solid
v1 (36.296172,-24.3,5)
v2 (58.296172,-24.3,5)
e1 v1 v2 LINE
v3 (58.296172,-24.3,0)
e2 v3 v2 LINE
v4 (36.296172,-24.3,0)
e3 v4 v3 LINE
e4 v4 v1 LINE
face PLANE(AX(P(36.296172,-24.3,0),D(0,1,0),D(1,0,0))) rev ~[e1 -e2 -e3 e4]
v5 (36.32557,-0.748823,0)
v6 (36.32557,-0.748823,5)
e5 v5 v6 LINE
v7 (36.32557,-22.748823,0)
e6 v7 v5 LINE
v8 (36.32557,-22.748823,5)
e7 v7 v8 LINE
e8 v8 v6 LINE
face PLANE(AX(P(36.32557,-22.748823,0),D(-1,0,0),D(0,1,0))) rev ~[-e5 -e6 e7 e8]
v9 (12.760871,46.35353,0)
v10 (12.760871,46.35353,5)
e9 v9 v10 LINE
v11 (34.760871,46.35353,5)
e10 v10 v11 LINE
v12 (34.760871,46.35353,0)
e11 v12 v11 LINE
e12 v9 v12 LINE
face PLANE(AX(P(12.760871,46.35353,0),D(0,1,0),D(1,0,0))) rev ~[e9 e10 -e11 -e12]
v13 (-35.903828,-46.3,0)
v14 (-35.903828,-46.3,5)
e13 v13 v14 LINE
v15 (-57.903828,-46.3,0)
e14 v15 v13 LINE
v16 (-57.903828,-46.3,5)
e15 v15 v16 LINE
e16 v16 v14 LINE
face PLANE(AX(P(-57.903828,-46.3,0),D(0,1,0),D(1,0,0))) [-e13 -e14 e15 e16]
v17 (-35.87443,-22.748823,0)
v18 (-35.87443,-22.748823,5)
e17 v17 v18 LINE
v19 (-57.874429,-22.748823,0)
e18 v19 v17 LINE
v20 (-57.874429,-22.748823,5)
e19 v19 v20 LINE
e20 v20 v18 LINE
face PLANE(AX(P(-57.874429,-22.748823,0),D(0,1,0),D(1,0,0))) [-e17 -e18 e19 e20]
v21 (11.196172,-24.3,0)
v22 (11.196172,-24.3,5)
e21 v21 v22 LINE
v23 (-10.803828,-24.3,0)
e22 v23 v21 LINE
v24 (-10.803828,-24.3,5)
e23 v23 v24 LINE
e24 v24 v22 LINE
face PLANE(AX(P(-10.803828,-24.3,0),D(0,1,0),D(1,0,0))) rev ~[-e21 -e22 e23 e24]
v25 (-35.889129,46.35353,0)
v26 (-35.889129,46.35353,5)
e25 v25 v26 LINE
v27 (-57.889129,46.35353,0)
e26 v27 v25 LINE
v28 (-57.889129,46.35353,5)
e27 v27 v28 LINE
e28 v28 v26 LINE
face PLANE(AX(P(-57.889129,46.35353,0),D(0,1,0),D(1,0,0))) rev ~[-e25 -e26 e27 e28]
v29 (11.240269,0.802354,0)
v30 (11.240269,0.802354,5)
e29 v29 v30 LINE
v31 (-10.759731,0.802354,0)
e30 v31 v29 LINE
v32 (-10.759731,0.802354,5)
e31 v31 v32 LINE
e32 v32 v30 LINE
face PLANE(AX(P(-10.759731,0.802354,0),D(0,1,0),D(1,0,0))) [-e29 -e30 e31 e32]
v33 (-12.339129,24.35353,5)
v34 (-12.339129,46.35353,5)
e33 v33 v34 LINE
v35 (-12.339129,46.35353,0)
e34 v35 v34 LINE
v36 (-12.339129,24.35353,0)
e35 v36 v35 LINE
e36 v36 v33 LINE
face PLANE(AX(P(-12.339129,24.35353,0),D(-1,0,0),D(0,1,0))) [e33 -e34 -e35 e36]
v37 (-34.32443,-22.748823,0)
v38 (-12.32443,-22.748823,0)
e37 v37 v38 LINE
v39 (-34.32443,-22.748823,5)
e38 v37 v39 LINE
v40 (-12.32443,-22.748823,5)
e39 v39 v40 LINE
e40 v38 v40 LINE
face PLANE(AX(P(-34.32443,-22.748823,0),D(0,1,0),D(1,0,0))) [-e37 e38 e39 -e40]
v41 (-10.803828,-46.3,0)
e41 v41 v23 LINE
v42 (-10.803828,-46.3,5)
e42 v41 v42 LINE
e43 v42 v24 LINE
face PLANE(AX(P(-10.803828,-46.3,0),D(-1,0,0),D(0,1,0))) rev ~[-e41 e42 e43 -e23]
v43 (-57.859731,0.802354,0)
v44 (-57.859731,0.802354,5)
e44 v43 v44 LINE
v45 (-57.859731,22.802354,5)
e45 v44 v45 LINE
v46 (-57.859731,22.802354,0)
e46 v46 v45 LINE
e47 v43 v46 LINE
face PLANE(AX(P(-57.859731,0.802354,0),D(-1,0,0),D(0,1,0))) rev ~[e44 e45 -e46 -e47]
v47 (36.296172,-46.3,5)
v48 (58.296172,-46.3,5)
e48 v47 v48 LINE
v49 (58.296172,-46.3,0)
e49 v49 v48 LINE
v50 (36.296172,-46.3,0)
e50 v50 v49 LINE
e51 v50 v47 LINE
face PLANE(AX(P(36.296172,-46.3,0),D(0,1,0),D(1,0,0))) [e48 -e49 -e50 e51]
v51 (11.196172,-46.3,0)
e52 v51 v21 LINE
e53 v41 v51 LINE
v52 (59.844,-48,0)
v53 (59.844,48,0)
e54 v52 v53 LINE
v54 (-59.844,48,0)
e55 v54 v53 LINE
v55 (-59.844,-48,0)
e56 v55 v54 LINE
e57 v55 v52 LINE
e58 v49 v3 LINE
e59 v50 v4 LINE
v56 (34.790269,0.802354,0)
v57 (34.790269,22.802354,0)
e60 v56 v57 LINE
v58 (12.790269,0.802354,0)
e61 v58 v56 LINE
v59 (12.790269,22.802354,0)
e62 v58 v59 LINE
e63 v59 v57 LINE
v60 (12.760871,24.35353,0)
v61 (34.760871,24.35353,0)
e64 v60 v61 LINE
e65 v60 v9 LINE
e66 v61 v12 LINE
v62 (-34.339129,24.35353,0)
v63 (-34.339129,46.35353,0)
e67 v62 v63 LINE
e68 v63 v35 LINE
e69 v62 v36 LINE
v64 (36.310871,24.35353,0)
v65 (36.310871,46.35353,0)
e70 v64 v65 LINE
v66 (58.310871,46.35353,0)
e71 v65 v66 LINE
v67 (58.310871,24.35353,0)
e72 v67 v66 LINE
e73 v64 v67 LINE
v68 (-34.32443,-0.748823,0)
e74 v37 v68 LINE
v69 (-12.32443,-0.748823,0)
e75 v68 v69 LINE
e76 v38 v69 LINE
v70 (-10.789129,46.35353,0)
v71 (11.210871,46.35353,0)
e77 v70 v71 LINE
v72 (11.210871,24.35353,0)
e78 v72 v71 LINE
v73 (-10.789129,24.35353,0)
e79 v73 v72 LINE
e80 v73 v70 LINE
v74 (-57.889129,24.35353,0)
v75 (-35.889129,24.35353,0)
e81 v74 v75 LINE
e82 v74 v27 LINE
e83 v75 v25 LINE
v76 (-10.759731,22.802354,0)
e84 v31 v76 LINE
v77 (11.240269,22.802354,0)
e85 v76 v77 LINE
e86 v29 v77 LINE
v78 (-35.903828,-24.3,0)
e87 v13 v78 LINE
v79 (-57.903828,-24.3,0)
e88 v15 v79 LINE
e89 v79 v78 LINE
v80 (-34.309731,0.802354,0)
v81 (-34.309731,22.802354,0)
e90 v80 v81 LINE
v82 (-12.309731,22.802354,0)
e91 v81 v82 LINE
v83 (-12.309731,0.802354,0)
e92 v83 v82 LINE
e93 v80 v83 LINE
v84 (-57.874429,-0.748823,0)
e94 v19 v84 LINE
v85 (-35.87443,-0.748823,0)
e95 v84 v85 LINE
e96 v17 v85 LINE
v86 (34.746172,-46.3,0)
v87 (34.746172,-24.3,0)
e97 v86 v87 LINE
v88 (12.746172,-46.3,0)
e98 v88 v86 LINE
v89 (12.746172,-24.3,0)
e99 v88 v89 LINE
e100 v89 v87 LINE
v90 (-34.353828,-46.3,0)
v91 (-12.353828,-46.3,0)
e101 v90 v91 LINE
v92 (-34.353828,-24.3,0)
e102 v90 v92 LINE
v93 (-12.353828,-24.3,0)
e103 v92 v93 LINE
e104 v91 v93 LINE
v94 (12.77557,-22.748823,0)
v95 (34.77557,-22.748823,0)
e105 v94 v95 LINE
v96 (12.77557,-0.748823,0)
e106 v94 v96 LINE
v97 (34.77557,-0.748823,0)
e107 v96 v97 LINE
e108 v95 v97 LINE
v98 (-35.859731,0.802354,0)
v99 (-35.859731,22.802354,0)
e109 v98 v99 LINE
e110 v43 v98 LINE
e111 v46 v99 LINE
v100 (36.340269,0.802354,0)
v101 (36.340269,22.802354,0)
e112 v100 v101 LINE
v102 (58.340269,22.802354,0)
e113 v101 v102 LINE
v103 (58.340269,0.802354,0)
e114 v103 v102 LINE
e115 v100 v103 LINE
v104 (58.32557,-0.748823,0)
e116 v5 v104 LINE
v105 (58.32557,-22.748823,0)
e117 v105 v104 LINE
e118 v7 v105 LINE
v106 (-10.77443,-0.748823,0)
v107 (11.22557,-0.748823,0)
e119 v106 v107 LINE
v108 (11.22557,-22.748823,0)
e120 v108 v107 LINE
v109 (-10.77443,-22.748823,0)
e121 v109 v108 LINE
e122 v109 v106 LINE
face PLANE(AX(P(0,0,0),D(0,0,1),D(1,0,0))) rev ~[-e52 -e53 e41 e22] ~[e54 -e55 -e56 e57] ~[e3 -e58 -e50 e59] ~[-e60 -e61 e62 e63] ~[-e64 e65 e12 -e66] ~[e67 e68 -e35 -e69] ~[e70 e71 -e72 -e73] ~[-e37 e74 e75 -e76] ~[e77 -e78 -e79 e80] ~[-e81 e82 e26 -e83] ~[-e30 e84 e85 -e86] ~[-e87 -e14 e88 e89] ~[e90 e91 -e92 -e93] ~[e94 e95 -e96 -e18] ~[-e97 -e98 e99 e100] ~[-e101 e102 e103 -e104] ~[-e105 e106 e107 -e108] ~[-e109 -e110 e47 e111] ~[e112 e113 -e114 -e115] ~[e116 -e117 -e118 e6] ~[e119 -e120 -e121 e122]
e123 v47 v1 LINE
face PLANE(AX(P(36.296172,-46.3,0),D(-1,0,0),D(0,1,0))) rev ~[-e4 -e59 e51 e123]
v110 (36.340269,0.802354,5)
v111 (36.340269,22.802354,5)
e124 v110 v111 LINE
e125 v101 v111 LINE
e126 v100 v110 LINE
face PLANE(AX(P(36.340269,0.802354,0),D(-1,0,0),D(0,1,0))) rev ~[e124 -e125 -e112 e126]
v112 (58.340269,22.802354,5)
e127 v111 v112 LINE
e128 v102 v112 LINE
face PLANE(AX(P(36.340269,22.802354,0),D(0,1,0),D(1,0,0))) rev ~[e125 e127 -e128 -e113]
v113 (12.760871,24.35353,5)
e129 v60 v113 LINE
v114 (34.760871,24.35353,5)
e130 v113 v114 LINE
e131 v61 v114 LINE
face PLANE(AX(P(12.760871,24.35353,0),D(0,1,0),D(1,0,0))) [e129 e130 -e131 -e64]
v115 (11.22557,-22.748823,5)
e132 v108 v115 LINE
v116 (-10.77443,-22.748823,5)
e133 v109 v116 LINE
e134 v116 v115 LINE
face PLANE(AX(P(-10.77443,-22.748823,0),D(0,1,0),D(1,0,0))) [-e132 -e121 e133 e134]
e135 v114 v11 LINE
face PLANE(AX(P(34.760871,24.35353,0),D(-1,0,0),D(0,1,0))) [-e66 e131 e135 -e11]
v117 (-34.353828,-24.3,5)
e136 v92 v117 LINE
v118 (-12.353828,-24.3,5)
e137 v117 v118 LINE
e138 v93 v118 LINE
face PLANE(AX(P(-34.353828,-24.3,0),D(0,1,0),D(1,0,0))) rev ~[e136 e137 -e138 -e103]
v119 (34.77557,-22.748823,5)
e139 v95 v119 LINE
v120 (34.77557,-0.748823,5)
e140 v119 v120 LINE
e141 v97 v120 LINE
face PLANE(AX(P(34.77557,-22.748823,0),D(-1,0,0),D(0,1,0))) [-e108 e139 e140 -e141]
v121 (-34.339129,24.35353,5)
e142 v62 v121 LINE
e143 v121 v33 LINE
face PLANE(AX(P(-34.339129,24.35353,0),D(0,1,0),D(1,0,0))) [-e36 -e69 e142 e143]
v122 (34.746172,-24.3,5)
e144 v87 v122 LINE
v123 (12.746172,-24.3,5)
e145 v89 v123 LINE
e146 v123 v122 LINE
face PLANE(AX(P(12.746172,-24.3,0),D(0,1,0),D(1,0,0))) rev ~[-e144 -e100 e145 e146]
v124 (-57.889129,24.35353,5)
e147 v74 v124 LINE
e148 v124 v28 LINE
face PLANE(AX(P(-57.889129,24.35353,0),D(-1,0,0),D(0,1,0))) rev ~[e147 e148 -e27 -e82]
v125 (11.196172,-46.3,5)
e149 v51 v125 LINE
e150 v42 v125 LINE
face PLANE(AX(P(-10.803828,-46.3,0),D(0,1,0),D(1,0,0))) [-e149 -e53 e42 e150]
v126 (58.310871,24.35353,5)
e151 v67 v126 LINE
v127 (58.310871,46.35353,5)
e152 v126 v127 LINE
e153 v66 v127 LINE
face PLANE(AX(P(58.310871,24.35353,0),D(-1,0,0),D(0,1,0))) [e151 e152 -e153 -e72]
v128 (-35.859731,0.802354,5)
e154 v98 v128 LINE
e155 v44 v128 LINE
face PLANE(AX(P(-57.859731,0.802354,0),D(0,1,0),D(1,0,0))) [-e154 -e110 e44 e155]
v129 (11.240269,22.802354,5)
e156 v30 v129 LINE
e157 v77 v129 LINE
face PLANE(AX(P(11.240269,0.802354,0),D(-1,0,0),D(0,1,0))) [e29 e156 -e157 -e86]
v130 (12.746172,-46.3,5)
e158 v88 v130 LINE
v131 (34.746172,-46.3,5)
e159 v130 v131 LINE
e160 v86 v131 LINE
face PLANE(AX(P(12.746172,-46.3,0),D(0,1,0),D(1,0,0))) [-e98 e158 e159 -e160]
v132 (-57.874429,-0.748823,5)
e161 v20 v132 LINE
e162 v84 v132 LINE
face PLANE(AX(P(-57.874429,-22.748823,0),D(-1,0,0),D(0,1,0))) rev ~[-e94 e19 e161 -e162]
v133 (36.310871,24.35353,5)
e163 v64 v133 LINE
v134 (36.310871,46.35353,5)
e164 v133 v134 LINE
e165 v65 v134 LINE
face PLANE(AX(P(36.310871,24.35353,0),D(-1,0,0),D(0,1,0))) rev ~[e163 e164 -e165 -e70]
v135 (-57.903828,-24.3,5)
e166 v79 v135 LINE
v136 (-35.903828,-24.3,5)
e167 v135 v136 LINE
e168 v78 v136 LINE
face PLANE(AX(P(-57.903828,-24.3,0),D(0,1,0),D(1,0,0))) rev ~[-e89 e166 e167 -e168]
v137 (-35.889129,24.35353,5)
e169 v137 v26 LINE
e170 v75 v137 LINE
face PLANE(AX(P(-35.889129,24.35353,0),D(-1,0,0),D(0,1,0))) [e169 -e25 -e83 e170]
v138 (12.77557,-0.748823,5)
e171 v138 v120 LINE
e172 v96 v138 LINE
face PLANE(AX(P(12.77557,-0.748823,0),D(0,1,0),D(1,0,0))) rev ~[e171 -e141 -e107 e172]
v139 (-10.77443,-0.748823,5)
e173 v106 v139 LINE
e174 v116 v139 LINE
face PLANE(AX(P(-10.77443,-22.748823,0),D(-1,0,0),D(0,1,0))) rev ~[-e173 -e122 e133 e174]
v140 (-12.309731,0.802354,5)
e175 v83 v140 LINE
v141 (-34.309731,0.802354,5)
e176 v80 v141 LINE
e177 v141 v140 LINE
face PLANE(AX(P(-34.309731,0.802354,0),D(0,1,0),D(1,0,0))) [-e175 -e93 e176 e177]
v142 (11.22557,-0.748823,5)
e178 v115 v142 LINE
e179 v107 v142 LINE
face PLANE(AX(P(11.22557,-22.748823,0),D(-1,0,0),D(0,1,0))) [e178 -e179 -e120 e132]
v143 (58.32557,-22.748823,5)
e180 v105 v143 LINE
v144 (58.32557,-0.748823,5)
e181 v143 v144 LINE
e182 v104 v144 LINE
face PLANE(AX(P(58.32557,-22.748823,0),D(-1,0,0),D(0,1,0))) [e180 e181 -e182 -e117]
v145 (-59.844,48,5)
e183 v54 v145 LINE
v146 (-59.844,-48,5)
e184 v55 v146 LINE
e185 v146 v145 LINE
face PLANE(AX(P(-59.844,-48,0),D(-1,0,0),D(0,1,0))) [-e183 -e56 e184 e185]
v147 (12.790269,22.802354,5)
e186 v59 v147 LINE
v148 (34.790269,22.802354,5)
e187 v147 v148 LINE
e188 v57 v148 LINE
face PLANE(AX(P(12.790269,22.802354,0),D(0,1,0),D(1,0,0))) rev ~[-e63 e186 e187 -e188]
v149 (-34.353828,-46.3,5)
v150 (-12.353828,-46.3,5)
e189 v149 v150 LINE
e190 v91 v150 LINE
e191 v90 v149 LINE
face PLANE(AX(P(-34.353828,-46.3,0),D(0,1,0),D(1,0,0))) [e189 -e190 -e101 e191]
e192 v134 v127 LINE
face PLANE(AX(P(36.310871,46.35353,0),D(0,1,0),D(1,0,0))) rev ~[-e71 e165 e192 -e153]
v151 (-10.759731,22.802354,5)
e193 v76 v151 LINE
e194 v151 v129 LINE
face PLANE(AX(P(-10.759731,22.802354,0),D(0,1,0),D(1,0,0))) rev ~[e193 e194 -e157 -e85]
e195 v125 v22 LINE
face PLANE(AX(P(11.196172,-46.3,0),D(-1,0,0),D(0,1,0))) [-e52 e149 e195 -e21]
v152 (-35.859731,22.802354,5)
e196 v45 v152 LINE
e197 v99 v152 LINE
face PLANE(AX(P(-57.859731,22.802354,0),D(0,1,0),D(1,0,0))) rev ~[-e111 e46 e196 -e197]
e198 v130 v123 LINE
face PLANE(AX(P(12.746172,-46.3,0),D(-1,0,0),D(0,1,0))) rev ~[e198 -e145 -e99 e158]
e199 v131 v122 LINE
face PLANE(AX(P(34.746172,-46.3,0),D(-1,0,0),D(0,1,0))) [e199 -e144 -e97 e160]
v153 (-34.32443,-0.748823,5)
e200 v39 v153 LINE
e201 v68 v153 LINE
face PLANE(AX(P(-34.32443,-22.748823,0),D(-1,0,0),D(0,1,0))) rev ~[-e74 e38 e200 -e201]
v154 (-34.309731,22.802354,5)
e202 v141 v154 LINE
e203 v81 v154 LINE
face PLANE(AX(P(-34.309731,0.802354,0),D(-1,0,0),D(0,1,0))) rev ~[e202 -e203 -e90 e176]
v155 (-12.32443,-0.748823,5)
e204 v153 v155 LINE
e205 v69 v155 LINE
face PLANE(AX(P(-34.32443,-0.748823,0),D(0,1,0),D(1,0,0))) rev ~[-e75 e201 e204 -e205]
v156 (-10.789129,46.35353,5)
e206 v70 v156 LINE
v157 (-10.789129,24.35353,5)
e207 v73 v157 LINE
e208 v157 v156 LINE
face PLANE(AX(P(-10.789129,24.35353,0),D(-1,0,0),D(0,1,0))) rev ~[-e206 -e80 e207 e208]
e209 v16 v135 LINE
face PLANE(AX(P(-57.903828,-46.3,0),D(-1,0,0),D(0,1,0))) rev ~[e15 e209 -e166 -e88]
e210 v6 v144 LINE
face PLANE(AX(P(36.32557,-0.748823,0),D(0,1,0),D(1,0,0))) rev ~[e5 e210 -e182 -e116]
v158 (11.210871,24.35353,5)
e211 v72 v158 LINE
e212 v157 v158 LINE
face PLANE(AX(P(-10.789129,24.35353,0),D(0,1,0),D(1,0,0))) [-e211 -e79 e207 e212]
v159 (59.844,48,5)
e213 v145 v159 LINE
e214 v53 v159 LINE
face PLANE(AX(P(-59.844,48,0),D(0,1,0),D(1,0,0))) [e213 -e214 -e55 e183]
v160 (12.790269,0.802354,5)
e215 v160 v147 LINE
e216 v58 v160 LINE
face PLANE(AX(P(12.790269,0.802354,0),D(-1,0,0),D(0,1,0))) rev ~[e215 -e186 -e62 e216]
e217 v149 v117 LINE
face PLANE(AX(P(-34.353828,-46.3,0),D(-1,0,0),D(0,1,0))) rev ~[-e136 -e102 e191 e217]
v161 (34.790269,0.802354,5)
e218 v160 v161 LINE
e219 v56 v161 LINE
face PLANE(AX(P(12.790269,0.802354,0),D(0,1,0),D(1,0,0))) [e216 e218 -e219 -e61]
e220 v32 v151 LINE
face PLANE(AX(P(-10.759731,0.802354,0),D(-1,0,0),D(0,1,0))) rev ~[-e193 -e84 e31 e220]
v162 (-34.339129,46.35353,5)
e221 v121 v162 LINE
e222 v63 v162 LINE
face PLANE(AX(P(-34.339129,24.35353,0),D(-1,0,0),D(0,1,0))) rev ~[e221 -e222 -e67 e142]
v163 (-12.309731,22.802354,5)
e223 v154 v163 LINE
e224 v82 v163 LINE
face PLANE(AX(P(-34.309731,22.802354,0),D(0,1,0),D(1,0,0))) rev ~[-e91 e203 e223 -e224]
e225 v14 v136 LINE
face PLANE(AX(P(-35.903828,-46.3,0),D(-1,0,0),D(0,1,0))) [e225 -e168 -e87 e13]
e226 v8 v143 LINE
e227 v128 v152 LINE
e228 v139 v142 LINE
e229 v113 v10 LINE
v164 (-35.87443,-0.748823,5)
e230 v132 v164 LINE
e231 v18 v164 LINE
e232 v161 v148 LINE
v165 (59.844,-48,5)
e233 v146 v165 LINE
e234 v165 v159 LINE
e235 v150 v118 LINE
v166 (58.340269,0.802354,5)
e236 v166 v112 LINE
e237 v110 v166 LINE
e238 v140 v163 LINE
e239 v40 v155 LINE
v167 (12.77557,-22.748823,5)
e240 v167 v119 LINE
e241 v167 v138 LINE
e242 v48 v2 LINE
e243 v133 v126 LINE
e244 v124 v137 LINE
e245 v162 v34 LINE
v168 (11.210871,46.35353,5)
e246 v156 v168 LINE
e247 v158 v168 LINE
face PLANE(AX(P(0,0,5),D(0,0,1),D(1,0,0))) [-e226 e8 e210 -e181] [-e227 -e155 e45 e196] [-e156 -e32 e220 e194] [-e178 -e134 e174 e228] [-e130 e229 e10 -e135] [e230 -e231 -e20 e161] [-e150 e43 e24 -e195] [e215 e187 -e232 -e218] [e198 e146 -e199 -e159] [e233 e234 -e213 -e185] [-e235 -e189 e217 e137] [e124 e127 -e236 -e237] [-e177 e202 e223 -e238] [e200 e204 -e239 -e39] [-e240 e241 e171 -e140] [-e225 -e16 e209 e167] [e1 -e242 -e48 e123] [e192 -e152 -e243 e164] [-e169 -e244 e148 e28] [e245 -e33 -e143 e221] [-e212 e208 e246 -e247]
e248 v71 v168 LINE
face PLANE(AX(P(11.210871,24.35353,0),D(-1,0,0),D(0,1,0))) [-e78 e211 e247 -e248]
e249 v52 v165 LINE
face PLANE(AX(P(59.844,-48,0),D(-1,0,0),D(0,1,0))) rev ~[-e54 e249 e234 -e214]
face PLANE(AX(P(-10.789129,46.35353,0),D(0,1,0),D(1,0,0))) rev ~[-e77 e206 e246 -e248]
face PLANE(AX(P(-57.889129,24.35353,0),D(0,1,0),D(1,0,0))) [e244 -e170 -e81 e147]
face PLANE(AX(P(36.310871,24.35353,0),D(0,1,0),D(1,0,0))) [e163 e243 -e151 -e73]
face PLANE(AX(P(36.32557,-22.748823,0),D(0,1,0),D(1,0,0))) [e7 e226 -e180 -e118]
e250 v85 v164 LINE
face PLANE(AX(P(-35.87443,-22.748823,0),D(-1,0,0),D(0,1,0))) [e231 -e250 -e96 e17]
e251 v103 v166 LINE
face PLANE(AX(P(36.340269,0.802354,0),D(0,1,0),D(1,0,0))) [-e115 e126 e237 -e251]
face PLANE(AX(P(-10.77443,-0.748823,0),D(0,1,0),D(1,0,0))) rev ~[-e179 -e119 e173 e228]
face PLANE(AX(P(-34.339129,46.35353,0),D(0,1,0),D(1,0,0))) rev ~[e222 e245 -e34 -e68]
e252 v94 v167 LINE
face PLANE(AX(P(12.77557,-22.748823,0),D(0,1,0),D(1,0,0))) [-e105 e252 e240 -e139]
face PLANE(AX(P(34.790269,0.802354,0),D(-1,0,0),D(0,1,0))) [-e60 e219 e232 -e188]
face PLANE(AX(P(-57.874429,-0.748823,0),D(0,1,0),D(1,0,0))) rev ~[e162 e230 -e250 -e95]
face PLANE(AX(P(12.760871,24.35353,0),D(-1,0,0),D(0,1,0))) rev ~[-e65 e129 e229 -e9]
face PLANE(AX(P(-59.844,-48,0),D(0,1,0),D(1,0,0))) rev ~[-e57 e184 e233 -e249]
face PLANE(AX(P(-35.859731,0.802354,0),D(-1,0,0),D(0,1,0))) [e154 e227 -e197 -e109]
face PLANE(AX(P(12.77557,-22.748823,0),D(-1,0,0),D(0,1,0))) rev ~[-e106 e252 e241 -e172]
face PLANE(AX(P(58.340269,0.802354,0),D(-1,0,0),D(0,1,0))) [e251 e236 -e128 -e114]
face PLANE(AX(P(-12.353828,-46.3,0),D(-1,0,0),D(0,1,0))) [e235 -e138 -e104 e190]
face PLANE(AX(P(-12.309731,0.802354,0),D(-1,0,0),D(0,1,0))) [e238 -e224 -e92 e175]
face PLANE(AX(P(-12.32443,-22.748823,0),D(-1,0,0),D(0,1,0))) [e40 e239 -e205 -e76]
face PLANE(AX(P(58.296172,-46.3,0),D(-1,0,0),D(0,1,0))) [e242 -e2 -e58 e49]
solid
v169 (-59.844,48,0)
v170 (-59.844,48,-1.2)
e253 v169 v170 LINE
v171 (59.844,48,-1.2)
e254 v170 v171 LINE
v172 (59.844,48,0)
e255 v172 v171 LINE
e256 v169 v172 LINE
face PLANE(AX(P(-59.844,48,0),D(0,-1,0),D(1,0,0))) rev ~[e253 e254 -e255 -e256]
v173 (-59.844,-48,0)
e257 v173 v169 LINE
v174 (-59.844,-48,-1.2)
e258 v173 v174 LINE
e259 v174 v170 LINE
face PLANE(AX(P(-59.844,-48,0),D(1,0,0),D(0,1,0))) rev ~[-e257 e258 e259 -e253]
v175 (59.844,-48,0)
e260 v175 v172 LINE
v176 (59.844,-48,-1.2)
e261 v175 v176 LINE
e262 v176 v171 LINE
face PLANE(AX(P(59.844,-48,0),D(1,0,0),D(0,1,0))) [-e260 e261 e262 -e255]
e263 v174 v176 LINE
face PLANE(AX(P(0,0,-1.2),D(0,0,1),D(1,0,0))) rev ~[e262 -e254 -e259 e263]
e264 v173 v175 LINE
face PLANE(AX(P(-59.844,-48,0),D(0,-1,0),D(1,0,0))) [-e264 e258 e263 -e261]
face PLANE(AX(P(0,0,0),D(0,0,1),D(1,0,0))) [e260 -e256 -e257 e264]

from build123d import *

# Parameters (mm, degrees)
F0_W     = 119.688
F0_H     = 96
F0_W_2   = 22
F0_H_2   = 22
F0_W_3   = 21.999999
F1_DEPTH = 1.2
F2_DEPTH = 5


with BuildPart() as f1:
    # F0 (on Top) → F1 (new body)
    with BuildSketch(Plane.XY):
        Rectangle(F0_W, F0_H)
        with Locations((-46.903828, -35.3)):
            Rectangle(F0_W_2, F0_H_2, mode=Mode.SUBTRACT)
        with Locations((-23.353828, -35.3)):
            Rectangle(F0_W_2, F0_H_2, mode=Mode.SUBTRACT)
        with Locations((-46.8744295, -11.748823)):
            Rectangle(F0_W_3, F0_H_2, mode=Mode.SUBTRACT)
        with Locations((-23.32443, -11.748823)):
            Rectangle(F0_W_2, F0_H_2, mode=Mode.SUBTRACT)
        with Locations((0.196172, -35.3)):
            Rectangle(F0_W_2, F0_H_2, mode=Mode.SUBTRACT)
        with Locations((23.746172, -35.3)):
            Rectangle(F0_W_2, F0_H_2, mode=Mode.SUBTRACT)
        with Locations((47.296172, -35.3)):
            Rectangle(F0_W_2, F0_H_2, mode=Mode.SUBTRACT)
        with Locations((0.22557, -11.748823)):
            Rectangle(F0_W_2, F0_H_2, mode=Mode.SUBTRACT)
        with Locations((23.77557, -11.748823)):
            Rectangle(F0_W_2, F0_H_2, mode=Mode.SUBTRACT)
        with Locations((47.32557, -11.748823)):
            Rectangle(F0_W_2, F0_H_2, mode=Mode.SUBTRACT)
        with Locations((-46.859731, 11.802354)):
            Rectangle(F0_W_2, F0_H_2, mode=Mode.SUBTRACT)
        with Locations((-23.309731, 11.802354)):
            Rectangle(F0_W_2, F0_H_2, mode=Mode.SUBTRACT)
        with Locations((-46.889129, 35.35353)):
            Rectangle(F0_W_2, F0_H_2, mode=Mode.SUBTRACT)
        with Locations((-23.339129, 35.35353)):
            Rectangle(F0_W_2, F0_H_2, mode=Mode.SUBTRACT)
        with Locations((0.240269, 11.802354)):
            Rectangle(F0_W_2, F0_H_2, mode=Mode.SUBTRACT)
        with Locations((23.790269, 11.802354)):
            Rectangle(F0_W_2, F0_H_2, mode=Mode.SUBTRACT)
        with Locations((47.340269, 11.802354)):
            Rectangle(F0_W_2, F0_H_2, mode=Mode.SUBTRACT)
        with Locations((0.210871, 35.35353)):
            Rectangle(F0_W_2, F0_H_2, mode=Mode.SUBTRACT)
        with Locations((23.760871, 35.35353)):
            Rectangle(F0_W_2, F0_H_2, mode=Mode.SUBTRACT)
        with Locations((47.310871, 35.35353)):
            Rectangle(F0_W_2, F0_H_2, mode=Mode.SUBTRACT)
        with Locations((47.310871, 35.35353)):
            Rectangle(F0_W_2, F0_H_2)
        with Locations((47.340269, 11.802354)):
            Rectangle(F0_W_2, F0_H_2)
        with Locations((23.746172, -35.3)):
            Rectangle(F0_W_2, F0_H_2)
        with Locations((23.790269, 11.802354)):
            Rectangle(F0_W_2, F0_H_2)
        with Locations((23.77557, -11.748823)):
            Rectangle(F0_W_2, F0_H_2)
        with Locations((-46.903828, -35.3)):
            Rectangle(F0_W_2, F0_H_2)
        with Locations((-23.339129, 35.35353)):
            Rectangle(F0_W_2, F0_H_2)
        with Locations((-23.309731, 11.802354)):
            Rectangle(F0_W_2, F0_H_2)
        with Locations((-23.32443, -11.748823)):
            Rectangle(F0_W_2, F0_H_2)
        with Locations((-23.353828, -35.3)):
            Rectangle(F0_W_2, F0_H_2)
        with Locations((0.210871, 35.35353)):
            Rectangle(F0_W_2, F0_H_2)
        with Locations((0.240269, 11.802354)):
            Rectangle(F0_W_2, F0_H_2)
        with Locations((0.22557, -11.748823)):
            Rectangle(F0_W_2, F0_H_2)
        with Locations((0.196172, -35.3)):
            Rectangle(F0_W_2, F0_H_2)
        with Locations((23.760871, 35.35353)):
            Rectangle(F0_W_2, F0_H_2)
        with Locations((47.32557, -11.748823)):
            Rectangle(F0_W_2, F0_H_2)
        with Locations((47.296172, -35.3)):
            Rectangle(F0_W_2, F0_H_2)
        with Locations((-46.889129, 35.35353)):
            Rectangle(F0_W_2, F0_H_2)
        with Locations((-46.859731, 11.802354)):
            Rectangle(F0_W_2, F0_H_2)
        with Locations((-46.8744295, -11.748823)):
            Rectangle(F0_W_3, F0_H_2)
    extrude(amount=-F1_DEPTH)


with BuildPart() as f2:
    # F0 (on Top) → F2 (new body)
    with BuildSketch(Plane.XY):
        Rectangle(F0_W, F0_H)
        with Locations((-46.903828, -35.3)):
            Rectangle(F0_W_2, F0_H_2, mode=Mode.SUBTRACT)
        with Locations((-23.353828, -35.3)):
            Rectangle(F0_W_2, F0_H_2, mode=Mode.SUBTRACT)
        with Locations((-46.8744295, -11.748823)):
            Rectangle(F0_W_3, F0_H_2, mode=Mode.SUBTRACT)
        with Locations((-23.32443, -11.748823)):
            Rectangle(F0_W_2, F0_H_2, mode=Mode.SUBTRACT)
        with Locations((0.196172, -35.3)):
            Rectangle(F0_W_2, F0_H_2, mode=Mode.SUBTRACT)
        with Locations((23.746172, -35.3)):
            Rectangle(F0_W_2, F0_H_2, mode=Mode.SUBTRACT)
        with Locations((47.296172, -35.3)):
            Rectangle(F0_W_2, F0_H_2, mode=Mode.SUBTRACT)
        with Locations((0.22557, -11.748823)):
            Rectangle(F0_W_2, F0_H_2, mode=Mode.SUBTRACT)
        with Locations((23.77557, -11.748823)):
            Rectangle(F0_W_2, F0_H_2, mode=Mode.SUBTRACT)
        with Locations((47.32557, -11.748823)):
            Rectangle(F0_W_2, F0_H_2, mode=Mode.SUBTRACT)
        with Locations((-46.859731, 11.802354)):
            Rectangle(F0_W_2, F0_H_2, mode=Mode.SUBTRACT)
        with Locations((-23.309731, 11.802354)):
            Rectangle(F0_W_2, F0_H_2, mode=Mode.SUBTRACT)
        with Locations((-46.889129, 35.35353)):
            Rectangle(F0_W_2, F0_H_2, mode=Mode.SUBTRACT)
        with Locations((-23.339129, 35.35353)):
            Rectangle(F0_W_2, F0_H_2, mode=Mode.SUBTRACT)
        with Locations((0.240269, 11.802354)):
            Rectangle(F0_W_2, F0_H_2, mode=Mode.SUBTRACT)
        with Locations((23.790269, 11.802354)):
            Rectangle(F0_W_2, F0_H_2, mode=Mode.SUBTRACT)
        with Locations((47.340269, 11.802354)):
            Rectangle(F0_W_2, F0_H_2, mode=Mode.SUBTRACT)
        with Locations((0.210871, 35.35353)):
            Rectangle(F0_W_2, F0_H_2, mode=Mode.SUBTRACT)
        with Locations((23.760871, 35.35353)):
            Rectangle(F0_W_2, F0_H_2, mode=Mode.SUBTRACT)
        with Locations((47.310871, 35.35353)):
            Rectangle(F0_W_2, F0_H_2, mode=Mode.SUBTRACT)
    extrude(amount=F2_DEPTH)


solid = Compound([f1.part, f2.part])
